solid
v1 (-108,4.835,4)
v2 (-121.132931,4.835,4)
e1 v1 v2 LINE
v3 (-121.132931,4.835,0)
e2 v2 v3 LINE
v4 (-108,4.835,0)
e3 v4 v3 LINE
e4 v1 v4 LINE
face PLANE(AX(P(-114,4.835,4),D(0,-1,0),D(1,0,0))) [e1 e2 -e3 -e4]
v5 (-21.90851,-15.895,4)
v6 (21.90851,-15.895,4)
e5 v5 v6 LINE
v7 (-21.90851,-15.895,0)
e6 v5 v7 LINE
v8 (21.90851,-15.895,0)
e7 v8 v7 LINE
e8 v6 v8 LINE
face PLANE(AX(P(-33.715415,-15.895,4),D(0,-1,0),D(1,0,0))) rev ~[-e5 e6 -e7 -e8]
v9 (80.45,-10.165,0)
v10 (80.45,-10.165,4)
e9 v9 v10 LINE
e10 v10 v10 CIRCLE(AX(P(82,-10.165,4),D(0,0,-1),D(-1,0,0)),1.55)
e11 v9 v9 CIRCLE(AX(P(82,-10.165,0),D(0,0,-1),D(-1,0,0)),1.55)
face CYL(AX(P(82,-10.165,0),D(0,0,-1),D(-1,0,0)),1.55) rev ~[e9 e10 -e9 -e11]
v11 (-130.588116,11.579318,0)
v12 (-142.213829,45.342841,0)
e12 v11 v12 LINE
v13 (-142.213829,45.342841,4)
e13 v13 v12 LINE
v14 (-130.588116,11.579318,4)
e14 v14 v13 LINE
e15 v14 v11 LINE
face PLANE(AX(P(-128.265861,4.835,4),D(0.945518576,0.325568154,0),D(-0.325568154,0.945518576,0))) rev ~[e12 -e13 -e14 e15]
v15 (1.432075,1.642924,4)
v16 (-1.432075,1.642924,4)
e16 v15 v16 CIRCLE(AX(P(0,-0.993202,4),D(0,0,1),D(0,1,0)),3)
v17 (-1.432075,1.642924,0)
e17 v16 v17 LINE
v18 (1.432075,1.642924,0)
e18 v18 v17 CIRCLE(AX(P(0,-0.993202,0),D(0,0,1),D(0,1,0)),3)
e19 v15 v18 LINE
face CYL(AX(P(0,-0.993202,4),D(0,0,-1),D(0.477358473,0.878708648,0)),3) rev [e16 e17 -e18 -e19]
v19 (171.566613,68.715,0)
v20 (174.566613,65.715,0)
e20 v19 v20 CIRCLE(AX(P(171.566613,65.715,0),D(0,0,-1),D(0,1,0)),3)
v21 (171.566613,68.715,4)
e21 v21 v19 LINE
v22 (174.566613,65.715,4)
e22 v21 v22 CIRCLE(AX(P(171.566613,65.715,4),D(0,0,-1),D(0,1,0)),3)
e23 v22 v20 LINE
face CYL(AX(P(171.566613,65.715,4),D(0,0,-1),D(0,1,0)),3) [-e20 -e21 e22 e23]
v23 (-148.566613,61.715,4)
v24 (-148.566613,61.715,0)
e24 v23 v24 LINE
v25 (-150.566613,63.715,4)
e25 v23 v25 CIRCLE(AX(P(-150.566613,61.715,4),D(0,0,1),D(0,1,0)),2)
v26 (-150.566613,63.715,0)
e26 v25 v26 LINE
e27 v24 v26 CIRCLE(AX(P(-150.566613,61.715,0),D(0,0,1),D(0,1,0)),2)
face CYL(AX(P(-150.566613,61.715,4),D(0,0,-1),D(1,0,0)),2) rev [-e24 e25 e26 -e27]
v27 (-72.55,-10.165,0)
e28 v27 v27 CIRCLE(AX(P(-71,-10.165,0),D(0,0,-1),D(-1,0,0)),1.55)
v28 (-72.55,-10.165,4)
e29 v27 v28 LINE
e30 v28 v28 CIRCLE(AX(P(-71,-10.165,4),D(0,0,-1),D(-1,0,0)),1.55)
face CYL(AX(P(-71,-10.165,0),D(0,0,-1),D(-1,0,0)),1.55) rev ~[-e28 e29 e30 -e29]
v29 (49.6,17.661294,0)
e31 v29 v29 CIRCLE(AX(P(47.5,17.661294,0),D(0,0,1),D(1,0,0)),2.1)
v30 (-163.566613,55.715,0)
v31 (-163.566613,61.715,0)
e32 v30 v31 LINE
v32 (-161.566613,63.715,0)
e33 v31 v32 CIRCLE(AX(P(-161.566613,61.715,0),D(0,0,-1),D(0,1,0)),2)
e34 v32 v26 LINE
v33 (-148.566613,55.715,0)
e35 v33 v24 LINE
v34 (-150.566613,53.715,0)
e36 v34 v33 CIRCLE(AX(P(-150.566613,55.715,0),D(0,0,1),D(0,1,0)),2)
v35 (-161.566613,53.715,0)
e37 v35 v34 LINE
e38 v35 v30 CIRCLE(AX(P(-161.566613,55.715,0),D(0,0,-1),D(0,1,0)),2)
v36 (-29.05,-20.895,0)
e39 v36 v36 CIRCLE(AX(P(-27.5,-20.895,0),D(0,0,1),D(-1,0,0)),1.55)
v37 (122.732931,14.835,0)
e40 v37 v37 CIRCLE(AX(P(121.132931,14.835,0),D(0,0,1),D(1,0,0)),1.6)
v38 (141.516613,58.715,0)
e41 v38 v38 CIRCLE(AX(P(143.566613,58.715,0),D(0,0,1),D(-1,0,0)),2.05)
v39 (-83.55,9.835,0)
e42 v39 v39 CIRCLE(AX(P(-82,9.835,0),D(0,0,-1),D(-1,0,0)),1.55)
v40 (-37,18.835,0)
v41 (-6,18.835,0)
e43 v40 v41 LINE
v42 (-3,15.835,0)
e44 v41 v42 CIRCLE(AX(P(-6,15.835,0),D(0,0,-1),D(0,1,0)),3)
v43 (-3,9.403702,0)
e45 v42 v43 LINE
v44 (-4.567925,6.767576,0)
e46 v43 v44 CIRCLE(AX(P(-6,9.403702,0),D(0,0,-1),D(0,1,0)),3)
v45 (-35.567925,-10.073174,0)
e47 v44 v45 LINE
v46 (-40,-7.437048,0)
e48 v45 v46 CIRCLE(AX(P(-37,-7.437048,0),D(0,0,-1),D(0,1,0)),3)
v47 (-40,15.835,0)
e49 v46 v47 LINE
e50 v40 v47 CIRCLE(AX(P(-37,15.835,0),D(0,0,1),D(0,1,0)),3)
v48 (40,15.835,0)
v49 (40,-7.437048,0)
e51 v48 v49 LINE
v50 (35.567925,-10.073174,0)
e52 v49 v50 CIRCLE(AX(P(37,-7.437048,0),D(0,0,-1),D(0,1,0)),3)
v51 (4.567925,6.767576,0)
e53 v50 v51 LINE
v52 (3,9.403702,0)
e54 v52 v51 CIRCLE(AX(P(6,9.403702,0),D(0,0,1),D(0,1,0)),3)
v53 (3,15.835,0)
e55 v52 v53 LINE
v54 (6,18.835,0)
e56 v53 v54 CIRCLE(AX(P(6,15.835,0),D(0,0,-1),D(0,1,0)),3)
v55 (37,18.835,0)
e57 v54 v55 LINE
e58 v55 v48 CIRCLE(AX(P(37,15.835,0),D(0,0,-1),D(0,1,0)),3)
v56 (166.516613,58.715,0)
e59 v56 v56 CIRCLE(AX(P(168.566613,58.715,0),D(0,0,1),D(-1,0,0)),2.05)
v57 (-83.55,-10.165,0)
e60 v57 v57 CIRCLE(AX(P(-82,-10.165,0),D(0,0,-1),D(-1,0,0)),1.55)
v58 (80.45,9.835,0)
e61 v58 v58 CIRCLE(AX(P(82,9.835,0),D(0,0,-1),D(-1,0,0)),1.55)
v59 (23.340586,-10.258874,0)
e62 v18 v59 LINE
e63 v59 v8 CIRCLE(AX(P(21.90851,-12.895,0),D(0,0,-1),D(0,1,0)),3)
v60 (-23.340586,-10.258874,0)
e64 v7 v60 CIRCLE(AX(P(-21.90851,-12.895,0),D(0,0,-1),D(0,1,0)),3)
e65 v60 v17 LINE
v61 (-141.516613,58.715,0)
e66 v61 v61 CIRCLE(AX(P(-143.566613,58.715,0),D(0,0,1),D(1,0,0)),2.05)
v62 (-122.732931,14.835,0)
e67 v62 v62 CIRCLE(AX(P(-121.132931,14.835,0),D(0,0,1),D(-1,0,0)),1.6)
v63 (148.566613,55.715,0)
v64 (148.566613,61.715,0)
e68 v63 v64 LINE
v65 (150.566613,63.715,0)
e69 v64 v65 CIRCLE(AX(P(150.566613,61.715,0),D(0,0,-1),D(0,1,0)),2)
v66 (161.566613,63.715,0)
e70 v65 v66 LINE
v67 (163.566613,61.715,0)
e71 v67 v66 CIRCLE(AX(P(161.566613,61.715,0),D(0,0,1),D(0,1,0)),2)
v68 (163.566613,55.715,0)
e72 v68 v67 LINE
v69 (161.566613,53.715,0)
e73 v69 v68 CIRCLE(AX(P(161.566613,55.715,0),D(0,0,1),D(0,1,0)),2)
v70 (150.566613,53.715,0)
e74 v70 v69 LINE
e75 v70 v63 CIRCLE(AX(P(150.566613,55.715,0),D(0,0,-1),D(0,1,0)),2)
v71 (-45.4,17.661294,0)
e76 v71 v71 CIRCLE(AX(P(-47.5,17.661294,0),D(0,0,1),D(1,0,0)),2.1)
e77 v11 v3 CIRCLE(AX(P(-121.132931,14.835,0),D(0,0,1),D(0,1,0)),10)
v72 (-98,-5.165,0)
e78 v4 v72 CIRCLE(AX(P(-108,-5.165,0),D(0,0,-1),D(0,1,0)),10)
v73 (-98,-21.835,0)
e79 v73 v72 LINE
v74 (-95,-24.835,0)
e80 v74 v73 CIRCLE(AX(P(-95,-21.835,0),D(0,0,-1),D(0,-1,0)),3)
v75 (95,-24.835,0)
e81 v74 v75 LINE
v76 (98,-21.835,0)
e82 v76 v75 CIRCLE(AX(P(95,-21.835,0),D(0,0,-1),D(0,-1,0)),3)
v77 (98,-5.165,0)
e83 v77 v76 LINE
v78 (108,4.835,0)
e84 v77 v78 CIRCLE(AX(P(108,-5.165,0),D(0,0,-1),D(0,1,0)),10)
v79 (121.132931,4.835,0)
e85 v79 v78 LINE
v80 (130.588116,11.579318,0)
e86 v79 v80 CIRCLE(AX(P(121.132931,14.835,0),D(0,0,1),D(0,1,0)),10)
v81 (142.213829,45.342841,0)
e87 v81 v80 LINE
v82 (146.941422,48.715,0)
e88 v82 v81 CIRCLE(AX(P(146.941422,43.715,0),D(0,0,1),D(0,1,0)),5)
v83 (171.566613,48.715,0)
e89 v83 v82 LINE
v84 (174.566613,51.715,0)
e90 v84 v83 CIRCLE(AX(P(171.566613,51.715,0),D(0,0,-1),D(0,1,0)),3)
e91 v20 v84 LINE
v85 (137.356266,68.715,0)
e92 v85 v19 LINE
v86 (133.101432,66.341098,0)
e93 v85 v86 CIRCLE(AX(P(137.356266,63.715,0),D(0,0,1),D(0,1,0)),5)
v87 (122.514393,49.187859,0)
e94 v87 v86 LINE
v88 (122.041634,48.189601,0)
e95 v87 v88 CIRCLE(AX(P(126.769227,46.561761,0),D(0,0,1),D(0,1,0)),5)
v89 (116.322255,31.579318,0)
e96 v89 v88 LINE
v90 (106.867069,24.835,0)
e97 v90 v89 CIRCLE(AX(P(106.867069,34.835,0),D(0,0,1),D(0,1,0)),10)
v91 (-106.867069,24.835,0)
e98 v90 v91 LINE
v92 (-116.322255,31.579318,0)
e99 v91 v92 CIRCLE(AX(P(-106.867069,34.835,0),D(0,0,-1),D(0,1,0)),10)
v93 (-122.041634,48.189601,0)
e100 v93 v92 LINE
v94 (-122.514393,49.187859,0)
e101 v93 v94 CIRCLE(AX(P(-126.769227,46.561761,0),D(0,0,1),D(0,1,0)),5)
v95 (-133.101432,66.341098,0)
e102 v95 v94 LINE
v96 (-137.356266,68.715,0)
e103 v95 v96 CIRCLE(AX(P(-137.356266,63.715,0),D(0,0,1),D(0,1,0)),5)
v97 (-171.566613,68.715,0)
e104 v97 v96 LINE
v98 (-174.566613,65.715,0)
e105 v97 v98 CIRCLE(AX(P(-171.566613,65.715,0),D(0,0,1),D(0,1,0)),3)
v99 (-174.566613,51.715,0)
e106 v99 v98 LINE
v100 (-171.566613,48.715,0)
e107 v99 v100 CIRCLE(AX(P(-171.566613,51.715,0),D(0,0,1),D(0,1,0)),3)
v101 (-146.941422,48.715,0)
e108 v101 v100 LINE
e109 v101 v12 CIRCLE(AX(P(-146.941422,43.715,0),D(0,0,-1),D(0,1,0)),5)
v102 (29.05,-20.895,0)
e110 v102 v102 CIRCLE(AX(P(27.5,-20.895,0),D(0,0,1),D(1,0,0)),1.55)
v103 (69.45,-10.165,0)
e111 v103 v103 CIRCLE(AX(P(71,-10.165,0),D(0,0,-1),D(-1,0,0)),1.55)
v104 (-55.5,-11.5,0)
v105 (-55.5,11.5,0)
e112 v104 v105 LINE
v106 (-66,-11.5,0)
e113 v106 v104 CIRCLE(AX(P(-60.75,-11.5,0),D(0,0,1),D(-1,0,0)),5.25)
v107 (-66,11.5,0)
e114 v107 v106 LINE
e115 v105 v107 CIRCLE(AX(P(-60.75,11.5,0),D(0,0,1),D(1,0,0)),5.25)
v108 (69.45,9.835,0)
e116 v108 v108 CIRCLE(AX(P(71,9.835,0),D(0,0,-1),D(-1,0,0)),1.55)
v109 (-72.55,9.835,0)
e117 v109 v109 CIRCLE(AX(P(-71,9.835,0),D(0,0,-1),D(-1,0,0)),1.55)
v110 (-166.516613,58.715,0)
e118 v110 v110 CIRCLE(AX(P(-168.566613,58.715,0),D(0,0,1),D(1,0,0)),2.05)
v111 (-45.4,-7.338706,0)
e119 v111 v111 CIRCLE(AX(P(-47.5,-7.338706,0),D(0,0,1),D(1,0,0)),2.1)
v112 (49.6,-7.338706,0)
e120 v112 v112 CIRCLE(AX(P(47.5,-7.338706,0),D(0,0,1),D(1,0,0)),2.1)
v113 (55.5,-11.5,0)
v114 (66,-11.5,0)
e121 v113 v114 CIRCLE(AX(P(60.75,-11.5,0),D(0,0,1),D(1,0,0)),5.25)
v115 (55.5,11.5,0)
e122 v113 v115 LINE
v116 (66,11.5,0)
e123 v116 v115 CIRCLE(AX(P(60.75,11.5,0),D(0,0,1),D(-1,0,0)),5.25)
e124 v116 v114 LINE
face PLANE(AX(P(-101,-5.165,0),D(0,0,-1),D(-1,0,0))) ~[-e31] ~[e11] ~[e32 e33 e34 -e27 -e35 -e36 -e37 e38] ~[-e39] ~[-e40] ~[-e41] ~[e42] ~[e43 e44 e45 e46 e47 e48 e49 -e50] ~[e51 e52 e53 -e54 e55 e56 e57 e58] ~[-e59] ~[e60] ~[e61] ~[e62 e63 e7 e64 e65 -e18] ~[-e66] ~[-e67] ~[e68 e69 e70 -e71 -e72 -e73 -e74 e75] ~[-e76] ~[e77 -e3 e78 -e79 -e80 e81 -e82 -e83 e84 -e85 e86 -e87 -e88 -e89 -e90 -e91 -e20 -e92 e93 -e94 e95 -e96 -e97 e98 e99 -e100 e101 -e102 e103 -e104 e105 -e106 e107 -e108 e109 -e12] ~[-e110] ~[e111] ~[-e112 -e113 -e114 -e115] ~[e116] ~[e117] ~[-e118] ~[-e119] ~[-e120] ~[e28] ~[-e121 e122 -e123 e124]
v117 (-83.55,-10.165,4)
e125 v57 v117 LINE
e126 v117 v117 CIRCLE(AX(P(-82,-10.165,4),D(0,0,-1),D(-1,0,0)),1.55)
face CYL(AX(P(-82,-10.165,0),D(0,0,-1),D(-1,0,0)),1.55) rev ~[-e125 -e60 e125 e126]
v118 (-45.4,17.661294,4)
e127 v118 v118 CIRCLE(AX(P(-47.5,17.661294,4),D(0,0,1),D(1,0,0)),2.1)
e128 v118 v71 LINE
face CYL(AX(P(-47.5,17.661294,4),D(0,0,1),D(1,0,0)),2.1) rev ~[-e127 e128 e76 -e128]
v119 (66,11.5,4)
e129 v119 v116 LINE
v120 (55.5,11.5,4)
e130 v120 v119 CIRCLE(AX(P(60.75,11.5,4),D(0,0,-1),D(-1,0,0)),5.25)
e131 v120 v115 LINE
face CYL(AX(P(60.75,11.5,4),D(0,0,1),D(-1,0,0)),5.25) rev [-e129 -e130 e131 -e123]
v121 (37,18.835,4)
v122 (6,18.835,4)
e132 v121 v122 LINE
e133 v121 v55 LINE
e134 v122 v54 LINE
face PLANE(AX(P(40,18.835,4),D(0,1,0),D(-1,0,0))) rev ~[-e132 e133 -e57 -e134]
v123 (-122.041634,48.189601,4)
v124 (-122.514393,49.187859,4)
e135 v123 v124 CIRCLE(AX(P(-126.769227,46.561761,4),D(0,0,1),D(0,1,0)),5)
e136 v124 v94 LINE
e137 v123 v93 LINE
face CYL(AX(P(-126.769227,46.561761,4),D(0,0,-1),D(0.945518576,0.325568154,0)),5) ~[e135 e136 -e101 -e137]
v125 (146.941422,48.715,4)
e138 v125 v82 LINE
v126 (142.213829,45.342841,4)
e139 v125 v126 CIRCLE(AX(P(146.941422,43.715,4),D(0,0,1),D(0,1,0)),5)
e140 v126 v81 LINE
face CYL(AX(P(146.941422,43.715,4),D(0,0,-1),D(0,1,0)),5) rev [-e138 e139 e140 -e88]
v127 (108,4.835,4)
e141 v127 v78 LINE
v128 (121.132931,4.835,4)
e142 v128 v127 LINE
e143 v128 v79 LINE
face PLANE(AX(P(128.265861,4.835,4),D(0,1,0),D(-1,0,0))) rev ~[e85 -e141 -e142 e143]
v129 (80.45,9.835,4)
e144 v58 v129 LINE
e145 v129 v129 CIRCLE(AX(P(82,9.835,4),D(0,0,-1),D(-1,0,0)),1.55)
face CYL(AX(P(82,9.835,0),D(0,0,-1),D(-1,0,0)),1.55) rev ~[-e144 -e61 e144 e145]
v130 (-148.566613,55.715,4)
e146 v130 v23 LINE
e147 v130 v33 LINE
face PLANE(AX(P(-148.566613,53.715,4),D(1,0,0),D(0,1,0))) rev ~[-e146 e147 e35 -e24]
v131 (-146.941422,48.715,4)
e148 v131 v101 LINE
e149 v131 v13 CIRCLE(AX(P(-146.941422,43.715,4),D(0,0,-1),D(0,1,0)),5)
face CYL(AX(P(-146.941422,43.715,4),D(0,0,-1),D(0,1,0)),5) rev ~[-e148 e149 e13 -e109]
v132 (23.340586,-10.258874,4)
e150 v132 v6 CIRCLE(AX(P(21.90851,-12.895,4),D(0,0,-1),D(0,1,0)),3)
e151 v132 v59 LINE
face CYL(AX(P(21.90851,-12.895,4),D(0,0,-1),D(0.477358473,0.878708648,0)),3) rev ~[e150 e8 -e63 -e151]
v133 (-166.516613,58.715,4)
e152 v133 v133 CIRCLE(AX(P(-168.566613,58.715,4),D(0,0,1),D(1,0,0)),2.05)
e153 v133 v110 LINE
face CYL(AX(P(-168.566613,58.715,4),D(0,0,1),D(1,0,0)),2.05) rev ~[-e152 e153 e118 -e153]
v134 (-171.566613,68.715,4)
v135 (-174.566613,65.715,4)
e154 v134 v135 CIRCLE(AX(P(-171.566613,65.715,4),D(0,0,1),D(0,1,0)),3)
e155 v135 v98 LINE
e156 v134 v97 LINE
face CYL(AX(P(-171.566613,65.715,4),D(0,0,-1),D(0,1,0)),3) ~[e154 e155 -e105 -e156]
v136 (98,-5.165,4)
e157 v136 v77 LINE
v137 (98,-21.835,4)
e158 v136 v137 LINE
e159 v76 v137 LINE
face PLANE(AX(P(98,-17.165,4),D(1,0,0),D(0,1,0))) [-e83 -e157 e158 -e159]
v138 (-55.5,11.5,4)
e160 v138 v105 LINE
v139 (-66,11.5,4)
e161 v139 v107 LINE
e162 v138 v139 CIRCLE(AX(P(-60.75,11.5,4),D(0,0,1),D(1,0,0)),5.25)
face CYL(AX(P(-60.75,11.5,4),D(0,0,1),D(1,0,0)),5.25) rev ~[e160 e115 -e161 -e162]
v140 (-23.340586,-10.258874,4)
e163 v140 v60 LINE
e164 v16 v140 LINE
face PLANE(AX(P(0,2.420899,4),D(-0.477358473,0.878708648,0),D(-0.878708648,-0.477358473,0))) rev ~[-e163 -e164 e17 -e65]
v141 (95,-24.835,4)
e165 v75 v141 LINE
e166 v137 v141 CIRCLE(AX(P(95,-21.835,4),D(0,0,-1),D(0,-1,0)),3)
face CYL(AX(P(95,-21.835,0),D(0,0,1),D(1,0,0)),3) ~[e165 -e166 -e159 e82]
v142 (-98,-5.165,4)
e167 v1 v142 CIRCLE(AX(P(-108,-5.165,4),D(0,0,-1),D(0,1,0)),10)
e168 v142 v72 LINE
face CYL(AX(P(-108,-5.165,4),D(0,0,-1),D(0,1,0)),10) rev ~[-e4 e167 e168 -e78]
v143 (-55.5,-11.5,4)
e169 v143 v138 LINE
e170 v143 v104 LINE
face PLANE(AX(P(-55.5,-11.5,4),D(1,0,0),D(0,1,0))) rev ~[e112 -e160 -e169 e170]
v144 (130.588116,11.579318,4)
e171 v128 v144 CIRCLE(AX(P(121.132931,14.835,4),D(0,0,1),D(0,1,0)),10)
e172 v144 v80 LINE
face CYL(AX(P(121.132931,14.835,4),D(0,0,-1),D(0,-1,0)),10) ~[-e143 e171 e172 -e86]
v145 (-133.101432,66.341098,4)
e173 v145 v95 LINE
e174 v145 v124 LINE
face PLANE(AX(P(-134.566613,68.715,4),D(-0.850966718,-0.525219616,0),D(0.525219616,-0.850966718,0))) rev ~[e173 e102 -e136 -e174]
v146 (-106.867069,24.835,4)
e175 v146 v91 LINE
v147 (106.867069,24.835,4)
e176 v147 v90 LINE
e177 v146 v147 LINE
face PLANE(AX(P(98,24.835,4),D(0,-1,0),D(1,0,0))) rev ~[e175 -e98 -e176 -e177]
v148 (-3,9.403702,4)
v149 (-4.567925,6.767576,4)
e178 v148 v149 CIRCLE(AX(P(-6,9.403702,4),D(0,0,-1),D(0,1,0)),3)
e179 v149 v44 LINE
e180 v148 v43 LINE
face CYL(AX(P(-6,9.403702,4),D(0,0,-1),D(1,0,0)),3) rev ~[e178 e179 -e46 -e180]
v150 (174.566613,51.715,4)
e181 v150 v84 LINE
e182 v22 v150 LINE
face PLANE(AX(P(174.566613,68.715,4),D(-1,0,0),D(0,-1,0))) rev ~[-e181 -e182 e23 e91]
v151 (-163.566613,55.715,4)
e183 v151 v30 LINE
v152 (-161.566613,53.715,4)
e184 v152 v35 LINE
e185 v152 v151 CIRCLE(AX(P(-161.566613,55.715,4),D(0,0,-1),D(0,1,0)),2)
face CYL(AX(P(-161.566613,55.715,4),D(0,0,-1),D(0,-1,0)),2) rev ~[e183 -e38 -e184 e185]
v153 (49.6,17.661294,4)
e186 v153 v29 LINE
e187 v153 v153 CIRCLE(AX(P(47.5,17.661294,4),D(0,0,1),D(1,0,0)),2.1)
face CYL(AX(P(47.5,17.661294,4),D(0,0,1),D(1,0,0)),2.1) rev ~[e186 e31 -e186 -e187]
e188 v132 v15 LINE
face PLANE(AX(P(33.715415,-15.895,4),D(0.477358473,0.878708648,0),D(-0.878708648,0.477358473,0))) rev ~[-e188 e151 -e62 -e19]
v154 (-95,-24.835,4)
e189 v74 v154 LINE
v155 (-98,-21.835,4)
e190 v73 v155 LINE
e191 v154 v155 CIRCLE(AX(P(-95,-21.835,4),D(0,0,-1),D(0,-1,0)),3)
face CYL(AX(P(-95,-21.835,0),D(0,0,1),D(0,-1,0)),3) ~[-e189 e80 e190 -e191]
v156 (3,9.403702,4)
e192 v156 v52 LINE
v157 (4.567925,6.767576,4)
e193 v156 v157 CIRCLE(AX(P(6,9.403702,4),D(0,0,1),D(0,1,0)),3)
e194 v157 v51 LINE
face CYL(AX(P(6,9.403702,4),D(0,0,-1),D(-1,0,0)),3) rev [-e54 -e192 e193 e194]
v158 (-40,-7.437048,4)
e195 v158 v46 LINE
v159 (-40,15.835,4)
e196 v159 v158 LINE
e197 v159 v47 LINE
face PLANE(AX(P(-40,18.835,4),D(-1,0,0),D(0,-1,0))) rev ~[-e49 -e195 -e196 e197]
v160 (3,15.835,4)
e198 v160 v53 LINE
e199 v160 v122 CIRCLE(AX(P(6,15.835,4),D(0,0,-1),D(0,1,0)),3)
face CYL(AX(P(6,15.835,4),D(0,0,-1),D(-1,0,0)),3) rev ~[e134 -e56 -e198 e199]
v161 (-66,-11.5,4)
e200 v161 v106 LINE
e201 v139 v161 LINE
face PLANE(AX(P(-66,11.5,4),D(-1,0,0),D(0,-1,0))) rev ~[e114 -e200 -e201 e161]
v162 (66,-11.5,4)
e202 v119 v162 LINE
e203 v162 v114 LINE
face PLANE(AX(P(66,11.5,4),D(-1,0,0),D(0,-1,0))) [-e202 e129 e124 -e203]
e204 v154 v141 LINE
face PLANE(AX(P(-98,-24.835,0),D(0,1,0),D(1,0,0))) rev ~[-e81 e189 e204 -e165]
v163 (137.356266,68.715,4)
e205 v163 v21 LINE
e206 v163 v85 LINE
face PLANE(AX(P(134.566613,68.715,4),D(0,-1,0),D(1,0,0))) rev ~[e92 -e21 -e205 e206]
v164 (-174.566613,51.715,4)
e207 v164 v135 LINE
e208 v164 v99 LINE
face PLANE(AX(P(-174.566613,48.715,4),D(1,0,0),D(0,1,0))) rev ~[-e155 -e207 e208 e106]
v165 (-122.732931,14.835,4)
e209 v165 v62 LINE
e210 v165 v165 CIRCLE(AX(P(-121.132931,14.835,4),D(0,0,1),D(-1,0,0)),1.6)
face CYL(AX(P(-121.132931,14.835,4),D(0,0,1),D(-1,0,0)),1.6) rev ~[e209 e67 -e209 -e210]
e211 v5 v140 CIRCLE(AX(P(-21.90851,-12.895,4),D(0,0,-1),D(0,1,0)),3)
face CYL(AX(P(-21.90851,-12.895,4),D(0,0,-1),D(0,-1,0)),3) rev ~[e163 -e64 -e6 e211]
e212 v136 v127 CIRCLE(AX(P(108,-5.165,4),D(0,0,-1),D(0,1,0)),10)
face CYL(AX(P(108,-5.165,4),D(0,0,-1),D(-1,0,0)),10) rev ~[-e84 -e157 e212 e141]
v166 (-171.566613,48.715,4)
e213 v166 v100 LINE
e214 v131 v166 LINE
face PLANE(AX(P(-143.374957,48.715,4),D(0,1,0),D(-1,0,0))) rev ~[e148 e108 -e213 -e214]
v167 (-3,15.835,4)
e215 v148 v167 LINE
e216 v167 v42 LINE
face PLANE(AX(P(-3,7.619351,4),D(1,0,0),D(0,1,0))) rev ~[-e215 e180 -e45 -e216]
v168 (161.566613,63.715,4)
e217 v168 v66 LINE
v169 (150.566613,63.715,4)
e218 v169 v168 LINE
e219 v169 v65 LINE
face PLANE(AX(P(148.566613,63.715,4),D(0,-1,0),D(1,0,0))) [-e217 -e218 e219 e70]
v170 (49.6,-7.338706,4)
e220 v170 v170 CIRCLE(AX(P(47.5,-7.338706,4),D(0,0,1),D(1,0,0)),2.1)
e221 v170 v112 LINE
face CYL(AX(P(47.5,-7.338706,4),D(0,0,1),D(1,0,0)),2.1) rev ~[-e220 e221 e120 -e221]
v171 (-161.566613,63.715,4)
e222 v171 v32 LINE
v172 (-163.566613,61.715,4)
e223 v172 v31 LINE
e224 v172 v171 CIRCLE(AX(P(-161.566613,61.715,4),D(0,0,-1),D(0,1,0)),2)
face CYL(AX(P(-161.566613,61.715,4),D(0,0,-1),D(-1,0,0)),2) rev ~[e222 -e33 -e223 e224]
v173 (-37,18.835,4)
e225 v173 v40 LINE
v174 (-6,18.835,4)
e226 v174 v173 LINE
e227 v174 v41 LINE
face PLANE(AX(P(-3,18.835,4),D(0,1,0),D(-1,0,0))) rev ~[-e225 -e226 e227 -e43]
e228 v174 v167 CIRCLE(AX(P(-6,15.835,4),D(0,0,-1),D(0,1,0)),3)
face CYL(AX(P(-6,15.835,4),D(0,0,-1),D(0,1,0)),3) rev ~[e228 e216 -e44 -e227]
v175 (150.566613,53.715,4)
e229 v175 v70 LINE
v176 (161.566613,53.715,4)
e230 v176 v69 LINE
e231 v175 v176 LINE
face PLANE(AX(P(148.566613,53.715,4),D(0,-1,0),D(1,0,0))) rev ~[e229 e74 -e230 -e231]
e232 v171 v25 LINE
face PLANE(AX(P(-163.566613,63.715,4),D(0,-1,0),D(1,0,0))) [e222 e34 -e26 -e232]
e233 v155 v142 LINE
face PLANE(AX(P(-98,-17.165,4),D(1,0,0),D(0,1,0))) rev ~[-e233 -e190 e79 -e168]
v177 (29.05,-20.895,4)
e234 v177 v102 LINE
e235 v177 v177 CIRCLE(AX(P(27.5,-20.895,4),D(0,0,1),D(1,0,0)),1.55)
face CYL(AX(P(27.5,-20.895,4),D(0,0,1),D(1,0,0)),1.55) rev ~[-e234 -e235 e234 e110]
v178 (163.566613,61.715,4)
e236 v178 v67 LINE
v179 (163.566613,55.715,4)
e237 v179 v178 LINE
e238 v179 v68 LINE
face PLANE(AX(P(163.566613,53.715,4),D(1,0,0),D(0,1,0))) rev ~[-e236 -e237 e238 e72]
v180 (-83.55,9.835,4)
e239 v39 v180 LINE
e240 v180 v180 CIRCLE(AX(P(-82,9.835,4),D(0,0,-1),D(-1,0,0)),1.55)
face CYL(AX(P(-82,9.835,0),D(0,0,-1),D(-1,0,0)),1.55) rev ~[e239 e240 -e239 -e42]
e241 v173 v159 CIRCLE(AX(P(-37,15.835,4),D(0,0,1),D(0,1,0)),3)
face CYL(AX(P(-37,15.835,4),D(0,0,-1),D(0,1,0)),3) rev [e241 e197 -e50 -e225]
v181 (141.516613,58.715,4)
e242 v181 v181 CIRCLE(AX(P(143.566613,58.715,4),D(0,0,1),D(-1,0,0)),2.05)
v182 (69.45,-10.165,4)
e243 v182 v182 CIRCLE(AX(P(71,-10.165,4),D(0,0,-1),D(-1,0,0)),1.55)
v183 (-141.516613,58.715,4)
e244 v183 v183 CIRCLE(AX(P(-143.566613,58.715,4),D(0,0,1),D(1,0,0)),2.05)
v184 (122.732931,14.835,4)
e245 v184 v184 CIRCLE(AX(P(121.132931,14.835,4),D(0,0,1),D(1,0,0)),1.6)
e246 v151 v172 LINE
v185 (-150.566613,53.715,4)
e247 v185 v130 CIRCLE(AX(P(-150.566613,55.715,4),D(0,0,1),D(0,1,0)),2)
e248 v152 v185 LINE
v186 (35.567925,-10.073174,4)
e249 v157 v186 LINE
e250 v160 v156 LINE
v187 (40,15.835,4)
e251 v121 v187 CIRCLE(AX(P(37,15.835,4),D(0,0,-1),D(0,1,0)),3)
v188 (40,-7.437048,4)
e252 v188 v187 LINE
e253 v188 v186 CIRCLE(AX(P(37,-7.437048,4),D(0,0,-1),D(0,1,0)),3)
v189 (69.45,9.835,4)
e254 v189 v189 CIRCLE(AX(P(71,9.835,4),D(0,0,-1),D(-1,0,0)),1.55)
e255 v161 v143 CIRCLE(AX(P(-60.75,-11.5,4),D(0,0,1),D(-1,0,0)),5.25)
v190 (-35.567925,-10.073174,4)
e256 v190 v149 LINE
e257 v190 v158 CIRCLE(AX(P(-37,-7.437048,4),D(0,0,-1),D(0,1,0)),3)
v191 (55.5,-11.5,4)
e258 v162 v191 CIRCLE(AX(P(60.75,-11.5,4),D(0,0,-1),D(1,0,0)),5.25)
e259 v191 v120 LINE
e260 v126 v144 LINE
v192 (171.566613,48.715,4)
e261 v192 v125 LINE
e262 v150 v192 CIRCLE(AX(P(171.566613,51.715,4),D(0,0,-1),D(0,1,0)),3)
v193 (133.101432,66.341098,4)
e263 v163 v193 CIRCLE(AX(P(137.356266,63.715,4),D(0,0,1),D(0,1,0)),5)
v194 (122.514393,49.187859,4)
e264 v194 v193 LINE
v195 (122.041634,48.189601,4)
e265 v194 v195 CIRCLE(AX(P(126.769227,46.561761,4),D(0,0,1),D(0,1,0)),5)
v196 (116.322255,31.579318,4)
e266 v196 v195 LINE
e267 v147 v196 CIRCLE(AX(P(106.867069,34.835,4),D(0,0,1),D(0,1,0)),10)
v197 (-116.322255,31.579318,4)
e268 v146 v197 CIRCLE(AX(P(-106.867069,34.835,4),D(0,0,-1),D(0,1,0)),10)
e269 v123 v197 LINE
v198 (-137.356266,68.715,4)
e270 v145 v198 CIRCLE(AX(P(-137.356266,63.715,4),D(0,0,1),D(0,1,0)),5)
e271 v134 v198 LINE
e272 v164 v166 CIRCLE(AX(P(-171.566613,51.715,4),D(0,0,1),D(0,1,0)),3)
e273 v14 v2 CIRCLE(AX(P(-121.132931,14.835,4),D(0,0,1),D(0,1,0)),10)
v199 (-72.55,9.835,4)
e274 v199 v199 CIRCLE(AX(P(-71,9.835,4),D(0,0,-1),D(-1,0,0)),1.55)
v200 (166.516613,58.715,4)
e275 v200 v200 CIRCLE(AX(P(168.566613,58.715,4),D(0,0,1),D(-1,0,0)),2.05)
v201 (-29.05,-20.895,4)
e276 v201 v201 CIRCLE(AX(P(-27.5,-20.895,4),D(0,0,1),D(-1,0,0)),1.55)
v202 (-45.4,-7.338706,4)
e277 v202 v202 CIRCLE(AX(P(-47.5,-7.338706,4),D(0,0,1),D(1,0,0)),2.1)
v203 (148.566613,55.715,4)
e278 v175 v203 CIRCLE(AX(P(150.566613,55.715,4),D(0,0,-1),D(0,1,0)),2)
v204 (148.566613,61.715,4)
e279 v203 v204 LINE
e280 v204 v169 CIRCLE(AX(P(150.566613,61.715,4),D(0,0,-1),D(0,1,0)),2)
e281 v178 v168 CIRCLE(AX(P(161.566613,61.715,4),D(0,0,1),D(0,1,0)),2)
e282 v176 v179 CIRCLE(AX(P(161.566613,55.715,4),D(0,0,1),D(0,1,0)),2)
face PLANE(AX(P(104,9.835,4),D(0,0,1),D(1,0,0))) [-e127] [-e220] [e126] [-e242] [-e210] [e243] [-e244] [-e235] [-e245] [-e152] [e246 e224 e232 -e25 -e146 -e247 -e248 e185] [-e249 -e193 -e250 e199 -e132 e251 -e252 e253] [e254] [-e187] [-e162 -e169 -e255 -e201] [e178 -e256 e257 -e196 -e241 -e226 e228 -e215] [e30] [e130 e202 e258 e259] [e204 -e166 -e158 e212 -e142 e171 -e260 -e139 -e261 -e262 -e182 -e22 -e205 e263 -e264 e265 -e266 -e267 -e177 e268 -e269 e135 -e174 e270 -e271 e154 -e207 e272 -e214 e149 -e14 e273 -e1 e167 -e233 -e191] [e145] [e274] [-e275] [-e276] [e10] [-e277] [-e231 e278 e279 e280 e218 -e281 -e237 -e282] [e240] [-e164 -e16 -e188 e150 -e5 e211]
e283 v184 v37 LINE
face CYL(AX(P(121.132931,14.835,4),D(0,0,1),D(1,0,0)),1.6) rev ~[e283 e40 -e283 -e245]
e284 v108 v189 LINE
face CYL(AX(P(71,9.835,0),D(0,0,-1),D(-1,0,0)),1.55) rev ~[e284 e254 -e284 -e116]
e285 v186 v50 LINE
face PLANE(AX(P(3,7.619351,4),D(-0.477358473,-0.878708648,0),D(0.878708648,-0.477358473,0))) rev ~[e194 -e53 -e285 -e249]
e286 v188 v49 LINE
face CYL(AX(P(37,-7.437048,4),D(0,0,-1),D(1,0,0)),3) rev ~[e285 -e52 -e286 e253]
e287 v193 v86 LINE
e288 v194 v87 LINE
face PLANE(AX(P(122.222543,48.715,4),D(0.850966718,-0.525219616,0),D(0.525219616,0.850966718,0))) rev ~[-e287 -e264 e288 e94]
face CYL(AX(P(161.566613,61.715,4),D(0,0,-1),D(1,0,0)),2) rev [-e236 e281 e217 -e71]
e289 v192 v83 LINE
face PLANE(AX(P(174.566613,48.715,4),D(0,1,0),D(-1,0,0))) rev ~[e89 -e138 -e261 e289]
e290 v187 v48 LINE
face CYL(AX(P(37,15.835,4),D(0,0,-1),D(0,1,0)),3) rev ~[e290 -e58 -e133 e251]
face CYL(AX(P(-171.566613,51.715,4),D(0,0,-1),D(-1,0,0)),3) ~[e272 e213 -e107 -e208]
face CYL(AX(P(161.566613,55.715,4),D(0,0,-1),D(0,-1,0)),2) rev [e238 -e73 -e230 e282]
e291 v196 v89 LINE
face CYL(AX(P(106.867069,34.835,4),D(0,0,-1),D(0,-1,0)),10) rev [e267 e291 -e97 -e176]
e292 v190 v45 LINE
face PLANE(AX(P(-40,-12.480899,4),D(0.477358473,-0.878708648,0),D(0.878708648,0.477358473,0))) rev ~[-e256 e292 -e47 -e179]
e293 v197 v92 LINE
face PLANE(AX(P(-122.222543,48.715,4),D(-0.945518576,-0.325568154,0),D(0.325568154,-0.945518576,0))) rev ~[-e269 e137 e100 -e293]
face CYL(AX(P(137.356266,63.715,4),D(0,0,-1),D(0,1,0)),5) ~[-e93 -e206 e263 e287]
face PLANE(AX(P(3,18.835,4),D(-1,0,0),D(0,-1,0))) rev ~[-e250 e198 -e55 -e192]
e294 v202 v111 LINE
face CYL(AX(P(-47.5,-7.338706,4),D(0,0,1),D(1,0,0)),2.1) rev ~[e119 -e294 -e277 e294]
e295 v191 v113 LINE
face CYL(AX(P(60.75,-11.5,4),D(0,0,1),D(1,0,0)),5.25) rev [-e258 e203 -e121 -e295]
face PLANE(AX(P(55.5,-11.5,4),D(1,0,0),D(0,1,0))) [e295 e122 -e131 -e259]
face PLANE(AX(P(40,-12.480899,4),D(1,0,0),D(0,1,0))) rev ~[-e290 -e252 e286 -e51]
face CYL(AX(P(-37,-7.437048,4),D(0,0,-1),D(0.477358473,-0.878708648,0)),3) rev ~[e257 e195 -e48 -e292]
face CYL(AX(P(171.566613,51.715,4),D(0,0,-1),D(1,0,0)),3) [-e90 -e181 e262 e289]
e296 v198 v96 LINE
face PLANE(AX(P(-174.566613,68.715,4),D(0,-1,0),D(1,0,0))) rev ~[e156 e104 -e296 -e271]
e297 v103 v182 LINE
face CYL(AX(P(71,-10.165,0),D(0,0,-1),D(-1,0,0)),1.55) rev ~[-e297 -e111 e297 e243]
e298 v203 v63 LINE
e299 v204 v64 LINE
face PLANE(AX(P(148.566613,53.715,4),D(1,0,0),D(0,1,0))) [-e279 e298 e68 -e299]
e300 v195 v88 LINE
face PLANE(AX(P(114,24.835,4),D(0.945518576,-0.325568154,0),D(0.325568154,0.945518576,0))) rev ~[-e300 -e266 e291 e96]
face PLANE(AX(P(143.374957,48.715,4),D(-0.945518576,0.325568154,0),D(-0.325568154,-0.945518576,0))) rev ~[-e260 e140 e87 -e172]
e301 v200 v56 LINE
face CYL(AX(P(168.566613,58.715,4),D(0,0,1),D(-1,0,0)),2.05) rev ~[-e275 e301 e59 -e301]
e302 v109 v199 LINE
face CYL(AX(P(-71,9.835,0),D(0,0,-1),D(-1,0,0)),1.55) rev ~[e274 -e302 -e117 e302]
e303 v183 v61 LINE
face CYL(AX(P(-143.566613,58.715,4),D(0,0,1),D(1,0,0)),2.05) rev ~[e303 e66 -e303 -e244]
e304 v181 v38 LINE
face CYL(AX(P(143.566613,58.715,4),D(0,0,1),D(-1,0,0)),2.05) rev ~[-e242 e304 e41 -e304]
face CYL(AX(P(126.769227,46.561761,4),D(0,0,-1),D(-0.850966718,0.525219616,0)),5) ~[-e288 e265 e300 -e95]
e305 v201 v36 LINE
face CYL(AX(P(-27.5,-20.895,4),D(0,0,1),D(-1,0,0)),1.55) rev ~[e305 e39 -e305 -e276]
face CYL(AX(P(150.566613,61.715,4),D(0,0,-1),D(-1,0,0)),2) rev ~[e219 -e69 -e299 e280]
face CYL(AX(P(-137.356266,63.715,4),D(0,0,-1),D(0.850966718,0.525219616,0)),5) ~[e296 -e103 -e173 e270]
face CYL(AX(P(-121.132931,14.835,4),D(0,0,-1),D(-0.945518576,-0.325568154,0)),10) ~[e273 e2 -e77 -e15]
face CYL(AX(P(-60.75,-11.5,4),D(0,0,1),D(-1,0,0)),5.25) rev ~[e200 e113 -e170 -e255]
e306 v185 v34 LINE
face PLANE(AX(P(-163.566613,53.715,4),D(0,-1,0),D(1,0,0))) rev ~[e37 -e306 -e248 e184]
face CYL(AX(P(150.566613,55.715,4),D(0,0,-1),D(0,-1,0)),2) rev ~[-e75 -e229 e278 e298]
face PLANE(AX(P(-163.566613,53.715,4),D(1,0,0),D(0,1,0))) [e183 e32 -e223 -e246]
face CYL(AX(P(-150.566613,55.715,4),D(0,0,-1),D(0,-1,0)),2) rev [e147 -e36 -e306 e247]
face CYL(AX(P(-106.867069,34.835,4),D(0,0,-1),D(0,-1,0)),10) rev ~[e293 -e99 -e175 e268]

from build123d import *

# Parameters (mm, degrees)
SKETCH_1_W           = 196
SKETCH_1_H           = 49.67
EXTRUDE_1_DEPTH      = 4
EXTRUDE_2_DEPTH      = 4
FILLET_1_R           = 10
FILLET_2_R           = 3
SKETCH_4_R           = 2.1
CUT_EXTRUDE_2_DEPTH  = 4
FILLET_3_R           = 5
SKETCH_5_R           = 1.55
CUT_EXTRUDE_3_DEPTH  = 10
SKETCH_7_R           = 2.05
CUT_EXTRUDE_5_DEPTH  = 102
CUT_EXTRUDE_8_DEPTH  = 10
FILLET_4_R           = 3
SKETCH_15_W          = 6
SKETCH_15_H          = 20
EXTRUDE_4_DEPTH      = 4
FILLET_11_R          = 10
FILLET_12_R          = 2
SKETCH_16_R          = 1.6
CUT_EXTRUDE_13_DEPTH = 10
SKETCH_23_W          = 16
SKETCH_23_H          = 22
CUT_EXTRUDE_17_DEPTH = 10
SKETCH_24_R          = 1.6
EXTRUDE_6_DEPTH      = 4
FILLET_14_R          = 10
SKETCH_25_W          = 15
SKETCH_25_H          = 10
CUT_EXTRUDE_18_DEPTH = 10
SKETCH_27_R          = 1.55
CUT_EXTRUDE_19_DEPTH = 5
SKETCH_30_R          = 1.6
CUT_EXTRUDE_22_DEPTH = 10
FILLET_15_R          = 2
CUT_EXTRUDE_23_DEPTH = 10


with BuildPart() as part:
    # 草图1 → 凸台-拉伸1 (new body)
    with BuildSketch(Plane.XY):
        Rectangle(SKETCH_1_W, SKETCH_1_H)
    extrude(amount=EXTRUDE_1_DEPTH)

    # 草图2 → 凸台-拉伸2 (add)
    with BuildSketch(Plane.XY.offset(4)):
        Polygon((98, 24.835), (114, 24.835), (122.222543405, 48.715), (134.566612912, 68.715), (174.566612912, 68.715), (174.566612912, 48.715), (143.374957029, 48.715), (128.265861358, 4.835), (98, 4.835), align=None)
        Polygon((-98, 24.835), (-98, 4.835), (-128.265861358, 4.835), (-143.374957029, 48.715), (-174.566612912, 48.715), (-174.566612912, 68.715), (-134.566612912, 68.715), (-122.222543405, 48.715), (-114, 24.835), align=None)
    extrude(amount=-EXTRUDE_2_DEPTH)

    # 圆角1
    fillet_1_edges = [part.edges().sort_by_distance(p)[0] for p in [
        (128.265861358, 4.835, 2),
        (114, 24.835, 2),
        (-128.265861358, 4.835, 2),
        (-114, 24.835, 2),
    ]]
    fillet(fillet_1_edges, radius=FILLET_1_R)

    # 圆角2
    fillet_2_edges = [part.edges().sort_by_distance(p)[0] for p in [
        (174.566612912, 48.715, 2),
        (174.566612912, 68.715, 2),
        (-174.566612912, 68.715, 2),
        (-174.566612912, 48.715, 2),
        (98, -24.835, 2),
        (-98, -24.835, 2),
    ]]
    fillet(fillet_2_edges, radius=FILLET_2_R)

    # 草图4 → 切除-拉伸2 (cut)
    with BuildSketch(Plane.XY.offset(4)):
        with Locations((47.5, -7.338706147)):
            Circle(SKETCH_4_R)
        with Locations((47.5, 17.661293853)):
            Circle(SKETCH_4_R)
        with Locations((-47.5, 17.661293853)):
            Circle(SKETCH_4_R)
        with Locations((-47.5, -7.338706147)):
            Circle(SKETCH_4_R)
    extrude(amount=-CUT_EXTRUDE_2_DEPTH, mode=Mode.SUBTRACT)

    # 圆角3
    fillet_3_edges = [part.edges().sort_by_distance(p)[0] for p in [
        (143.374957029, 48.715, 2),
        (134.566612912, 68.715, 2),
        (122.222543405, 48.715, 2),
        (-122.222543405, 48.715, 2),
        (-134.566612912, 68.715, 2),
        (-143.374957029, 48.715, 2),
    ]]
    fillet(fillet_3_edges, radius=FILLET_3_R)

    # 草图5 → 切除-拉伸3 (cut)
    with BuildSketch(Plane.XY.offset(4)):
        with Locations((27.5, -20.895)):
            Circle(SKETCH_5_R)
        with Locations(Location((-27.5, -20.895, 0), (0, 0, 180))):
            Circle(SKETCH_5_R)
    extrude(amount=-CUT_EXTRUDE_3_DEPTH, mode=Mode.SUBTRACT)

    # 草图7 → 切除-拉伸5 (cut)
    with BuildSketch(Plane.XY.offset(4)):
        with Locations((-168.566612912, 58.715)):
            Circle(SKETCH_7_R)
        with Locations((-143.566612912, 58.715)):
            Circle(SKETCH_7_R)
        with Locations(Location((143.566612912, 58.715, 0), (0, 0, 180))):
            Circle(SKETCH_7_R)
        with Locations(Location((168.566612912, 58.715, 0), (0, 0, 180))):
            Circle(SKETCH_7_R)
    extrude(amount=-CUT_EXTRUDE_5_DEPTH, mode=Mode.SUBTRACT)

    # 草图8 → 切除-拉伸8 (cut)
    with BuildSketch(Plane.XY.offset(4)):
        Polygon((-40, 18.835), (-40, -12.480899084), (-3, 7.619350916), (-3, 18.835), align=None)
        Polygon((0, 2.420899084), (-33.715414789, -15.895), (33.715414789, -15.895), align=None)
        Polygon((3, 7.619350916), (40, -12.480899084), (40, 18.835), (3, 18.835), align=None)
    extrude(amount=-CUT_EXTRUDE_8_DEPTH, mode=Mode.SUBTRACT)

    # 圆角4
    fillet_4_edges = [part.edges().sort_by_distance(p)[0] for p in [
        (0, 2.420899084, 2),
        (33.715414789, -15.895, 2),
        (-33.715414789, -15.895, 2),
        (3, 7.619350916, 2),
        (3, 18.835, 2),
        (40, 18.835, 2),
        (40, -12.480899084, 2),
        (-3, 7.619350916, 2),
        (-40, -12.480899084, 2),
        (-40, 18.835, 2),
        (-3, 18.835, 2),
    ]]
    fillet(fillet_4_edges, radius=FILLET_4_R)

    # 草图15 → 凸台-拉伸4 (add)
    with BuildSketch(Plane(origin=(0, 0, 0), x_dir=(-1, 0, 0), z_dir=(0, 0, -1))):
        with Locations((-101, -5.165)):
            Rectangle(SKETCH_15_W, SKETCH_15_H)
    extrude_4 = extrude(amount=-EXTRUDE_4_DEPTH)

    # 镜向5: 凸台-拉伸4 across plane
    add(extrude_4.mirror(Plane(origin=(0, 0, 0), x_dir=(0, 0, 1), z_dir=(1, 0, 0))))

    # 圆角11
    fillet_11_edges = [part.edges().sort_by_distance(p)[0] for p in [
        (104, 4.835, 2),
        (-104, 4.835, 2),
    ]]
    fillet(fillet_11_edges, radius=FILLET_11_R)

    # 圆角12
    fillet_12_edges = [part.edges().sort_by_distance(p)[0] for p in [
        (98, -15.165, 2),
        (104, -15.165, 2),
        (-104, -15.165, 2),
        (-98, -15.165, 2),
    ]]
    fillet(fillet_12_edges, radius=FILLET_12_R)

    # 草图16 → 切除-拉伸13 (cut)
    with BuildSketch(Plane.XY.offset(4)):
        with Locations((104, -10.165)):
            Circle(SKETCH_16_R)
        with Locations((104, 9.835)):
            Circle(SKETCH_16_R)
    cut_extrude_13 = extrude(amount=-CUT_EXTRUDE_13_DEPTH, mode=Mode.SUBTRACT)

    # 镜向6: 切除-拉伸13 across plane
    add(cut_extrude_13.mirror(Plane(origin=(0, 0, 0), x_dir=(0, 0, 1), z_dir=(1, 0, 0))), mode=Mode.SUBTRACT)

    # 草图23 → 切除-拉伸17 (cut)
    with BuildSketch(Plane.XY.offset(4)):
        with Locations((-106, -6.165)):
            Rectangle(SKETCH_23_W, SKETCH_23_H)
        with Locations((106, -6.165)):
            Rectangle(SKETCH_23_W, SKETCH_23_H)
    extrude(amount=-CUT_EXTRUDE_17_DEPTH, mode=Mode.SUBTRACT)

    # 草图24 → 凸台-拉伸6 (add)
    with BuildSketch(Plane.XY.offset(4)):
        with Locations((104, 9.835)):
            Circle(SKETCH_24_R)
        with Locations((-104, 9.835)):
            Circle(SKETCH_24_R)
    extrude(amount=-EXTRUDE_6_DEPTH)

    # 圆角14
    fillet_14_edges = [part.edges().sort_by_distance(p)[0] for p in [
        (-98, 4.835, 2),
        (98, 4.835, 2),
    ]]
    fillet(fillet_14_edges, radius=FILLET_14_R)

    # 草图25 → 切除-拉伸18 (cut)
    with BuildSketch(Plane.XY.offset(4)):
        with Locations((-156.066612912, 58.715)):
            Rectangle(SKETCH_25_W, SKETCH_25_H)
        with Locations((156.066612912, 58.715)):
            Rectangle(SKETCH_25_W, SKETCH_25_H)
    extrude(amount=-CUT_EXTRUDE_18_DEPTH, mode=Mode.SUBTRACT)

    # 草图27 → 切除-拉伸19 (cut)
    with BuildSketch(Plane(origin=(0, 0, 0), x_dir=(-1, 0, 0), z_dir=(0, 0, -1))):
        with Locations((-82, -10.165)):
            Circle(SKETCH_27_R)
        with Locations((-82, 9.835)):
            Circle(SKETCH_27_R)
        with Locations((82, 9.835)):
            Circle(SKETCH_27_R)
        with Locations((82, -10.165)):
            Circle(SKETCH_27_R)
        with Locations((-71, 9.835)):
            Circle(SKETCH_27_R)
        with Locations((-71, -10.165)):
            Circle(SKETCH_27_R)
        with Locations((71, -10.165)):
            Circle(SKETCH_27_R)
        with Locations((71, 9.835)):
            Circle(SKETCH_27_R)
    extrude(amount=-CUT_EXTRUDE_19_DEPTH, mode=Mode.SUBTRACT)

    # 草图30 → 切除-拉伸22 (cut)
    with BuildSketch(Plane.XY.offset(4)):
        with Locations((121.132930679, 14.835)):
            Circle(SKETCH_30_R)
        with Locations(Location((-121.132930679, 14.835, 0), (0, 0, 180))):
            Circle(SKETCH_30_R)
    extrude(amount=-CUT_EXTRUDE_22_DEPTH, mode=Mode.SUBTRACT)

    # 圆角15
    fillet_15_edges = [part.edges().sort_by_distance(p)[0] for p in [
        (-148.566612912, 63.715, 2),
        (-148.566612912, 53.715, 2),
        (-163.566612912, 53.715, 2),
        (-163.566612912, 63.715, 2),
        (163.566612912, 63.715, 2),
        (163.566612912, 53.715, 2),
        (148.566612912, 53.715, 2),
        (148.566612912, 63.715, 2),
    ]]
    fillet(fillet_15_edges, radius=FILLET_15_R)

    # 草图31 → 切除-拉伸23 (cut)
    with BuildSketch(Plane.XY.offset(4)):
        with BuildLine():
            Line((66, 11.5), (66, -11.5))
            ThreePointArc((66, -11.5), (60.75, -16.75), (55.5, -11.5))
            Line((55.5, -11.5), (55.5, 11.5))
            ThreePointArc((55.5, 11.5), (60.75, 16.75), (66, 11.5))
        make_face()
        with BuildLine():
            Line((-66, 11.5), (-66, -11.5))
            ThreePointArc((-66, -11.5), (-60.75, -16.75), (-55.5, -11.5))
            Line((-55.5, -11.5), (-55.5, 11.5))
            ThreePointArc((-55.5, 11.5), (-60.75, 16.75), (-66, 11.5))
        make_face()
    extrude(amount=-CUT_EXTRUDE_23_DEPTH, mode=Mode.SUBTRACT)


solid = part.part
